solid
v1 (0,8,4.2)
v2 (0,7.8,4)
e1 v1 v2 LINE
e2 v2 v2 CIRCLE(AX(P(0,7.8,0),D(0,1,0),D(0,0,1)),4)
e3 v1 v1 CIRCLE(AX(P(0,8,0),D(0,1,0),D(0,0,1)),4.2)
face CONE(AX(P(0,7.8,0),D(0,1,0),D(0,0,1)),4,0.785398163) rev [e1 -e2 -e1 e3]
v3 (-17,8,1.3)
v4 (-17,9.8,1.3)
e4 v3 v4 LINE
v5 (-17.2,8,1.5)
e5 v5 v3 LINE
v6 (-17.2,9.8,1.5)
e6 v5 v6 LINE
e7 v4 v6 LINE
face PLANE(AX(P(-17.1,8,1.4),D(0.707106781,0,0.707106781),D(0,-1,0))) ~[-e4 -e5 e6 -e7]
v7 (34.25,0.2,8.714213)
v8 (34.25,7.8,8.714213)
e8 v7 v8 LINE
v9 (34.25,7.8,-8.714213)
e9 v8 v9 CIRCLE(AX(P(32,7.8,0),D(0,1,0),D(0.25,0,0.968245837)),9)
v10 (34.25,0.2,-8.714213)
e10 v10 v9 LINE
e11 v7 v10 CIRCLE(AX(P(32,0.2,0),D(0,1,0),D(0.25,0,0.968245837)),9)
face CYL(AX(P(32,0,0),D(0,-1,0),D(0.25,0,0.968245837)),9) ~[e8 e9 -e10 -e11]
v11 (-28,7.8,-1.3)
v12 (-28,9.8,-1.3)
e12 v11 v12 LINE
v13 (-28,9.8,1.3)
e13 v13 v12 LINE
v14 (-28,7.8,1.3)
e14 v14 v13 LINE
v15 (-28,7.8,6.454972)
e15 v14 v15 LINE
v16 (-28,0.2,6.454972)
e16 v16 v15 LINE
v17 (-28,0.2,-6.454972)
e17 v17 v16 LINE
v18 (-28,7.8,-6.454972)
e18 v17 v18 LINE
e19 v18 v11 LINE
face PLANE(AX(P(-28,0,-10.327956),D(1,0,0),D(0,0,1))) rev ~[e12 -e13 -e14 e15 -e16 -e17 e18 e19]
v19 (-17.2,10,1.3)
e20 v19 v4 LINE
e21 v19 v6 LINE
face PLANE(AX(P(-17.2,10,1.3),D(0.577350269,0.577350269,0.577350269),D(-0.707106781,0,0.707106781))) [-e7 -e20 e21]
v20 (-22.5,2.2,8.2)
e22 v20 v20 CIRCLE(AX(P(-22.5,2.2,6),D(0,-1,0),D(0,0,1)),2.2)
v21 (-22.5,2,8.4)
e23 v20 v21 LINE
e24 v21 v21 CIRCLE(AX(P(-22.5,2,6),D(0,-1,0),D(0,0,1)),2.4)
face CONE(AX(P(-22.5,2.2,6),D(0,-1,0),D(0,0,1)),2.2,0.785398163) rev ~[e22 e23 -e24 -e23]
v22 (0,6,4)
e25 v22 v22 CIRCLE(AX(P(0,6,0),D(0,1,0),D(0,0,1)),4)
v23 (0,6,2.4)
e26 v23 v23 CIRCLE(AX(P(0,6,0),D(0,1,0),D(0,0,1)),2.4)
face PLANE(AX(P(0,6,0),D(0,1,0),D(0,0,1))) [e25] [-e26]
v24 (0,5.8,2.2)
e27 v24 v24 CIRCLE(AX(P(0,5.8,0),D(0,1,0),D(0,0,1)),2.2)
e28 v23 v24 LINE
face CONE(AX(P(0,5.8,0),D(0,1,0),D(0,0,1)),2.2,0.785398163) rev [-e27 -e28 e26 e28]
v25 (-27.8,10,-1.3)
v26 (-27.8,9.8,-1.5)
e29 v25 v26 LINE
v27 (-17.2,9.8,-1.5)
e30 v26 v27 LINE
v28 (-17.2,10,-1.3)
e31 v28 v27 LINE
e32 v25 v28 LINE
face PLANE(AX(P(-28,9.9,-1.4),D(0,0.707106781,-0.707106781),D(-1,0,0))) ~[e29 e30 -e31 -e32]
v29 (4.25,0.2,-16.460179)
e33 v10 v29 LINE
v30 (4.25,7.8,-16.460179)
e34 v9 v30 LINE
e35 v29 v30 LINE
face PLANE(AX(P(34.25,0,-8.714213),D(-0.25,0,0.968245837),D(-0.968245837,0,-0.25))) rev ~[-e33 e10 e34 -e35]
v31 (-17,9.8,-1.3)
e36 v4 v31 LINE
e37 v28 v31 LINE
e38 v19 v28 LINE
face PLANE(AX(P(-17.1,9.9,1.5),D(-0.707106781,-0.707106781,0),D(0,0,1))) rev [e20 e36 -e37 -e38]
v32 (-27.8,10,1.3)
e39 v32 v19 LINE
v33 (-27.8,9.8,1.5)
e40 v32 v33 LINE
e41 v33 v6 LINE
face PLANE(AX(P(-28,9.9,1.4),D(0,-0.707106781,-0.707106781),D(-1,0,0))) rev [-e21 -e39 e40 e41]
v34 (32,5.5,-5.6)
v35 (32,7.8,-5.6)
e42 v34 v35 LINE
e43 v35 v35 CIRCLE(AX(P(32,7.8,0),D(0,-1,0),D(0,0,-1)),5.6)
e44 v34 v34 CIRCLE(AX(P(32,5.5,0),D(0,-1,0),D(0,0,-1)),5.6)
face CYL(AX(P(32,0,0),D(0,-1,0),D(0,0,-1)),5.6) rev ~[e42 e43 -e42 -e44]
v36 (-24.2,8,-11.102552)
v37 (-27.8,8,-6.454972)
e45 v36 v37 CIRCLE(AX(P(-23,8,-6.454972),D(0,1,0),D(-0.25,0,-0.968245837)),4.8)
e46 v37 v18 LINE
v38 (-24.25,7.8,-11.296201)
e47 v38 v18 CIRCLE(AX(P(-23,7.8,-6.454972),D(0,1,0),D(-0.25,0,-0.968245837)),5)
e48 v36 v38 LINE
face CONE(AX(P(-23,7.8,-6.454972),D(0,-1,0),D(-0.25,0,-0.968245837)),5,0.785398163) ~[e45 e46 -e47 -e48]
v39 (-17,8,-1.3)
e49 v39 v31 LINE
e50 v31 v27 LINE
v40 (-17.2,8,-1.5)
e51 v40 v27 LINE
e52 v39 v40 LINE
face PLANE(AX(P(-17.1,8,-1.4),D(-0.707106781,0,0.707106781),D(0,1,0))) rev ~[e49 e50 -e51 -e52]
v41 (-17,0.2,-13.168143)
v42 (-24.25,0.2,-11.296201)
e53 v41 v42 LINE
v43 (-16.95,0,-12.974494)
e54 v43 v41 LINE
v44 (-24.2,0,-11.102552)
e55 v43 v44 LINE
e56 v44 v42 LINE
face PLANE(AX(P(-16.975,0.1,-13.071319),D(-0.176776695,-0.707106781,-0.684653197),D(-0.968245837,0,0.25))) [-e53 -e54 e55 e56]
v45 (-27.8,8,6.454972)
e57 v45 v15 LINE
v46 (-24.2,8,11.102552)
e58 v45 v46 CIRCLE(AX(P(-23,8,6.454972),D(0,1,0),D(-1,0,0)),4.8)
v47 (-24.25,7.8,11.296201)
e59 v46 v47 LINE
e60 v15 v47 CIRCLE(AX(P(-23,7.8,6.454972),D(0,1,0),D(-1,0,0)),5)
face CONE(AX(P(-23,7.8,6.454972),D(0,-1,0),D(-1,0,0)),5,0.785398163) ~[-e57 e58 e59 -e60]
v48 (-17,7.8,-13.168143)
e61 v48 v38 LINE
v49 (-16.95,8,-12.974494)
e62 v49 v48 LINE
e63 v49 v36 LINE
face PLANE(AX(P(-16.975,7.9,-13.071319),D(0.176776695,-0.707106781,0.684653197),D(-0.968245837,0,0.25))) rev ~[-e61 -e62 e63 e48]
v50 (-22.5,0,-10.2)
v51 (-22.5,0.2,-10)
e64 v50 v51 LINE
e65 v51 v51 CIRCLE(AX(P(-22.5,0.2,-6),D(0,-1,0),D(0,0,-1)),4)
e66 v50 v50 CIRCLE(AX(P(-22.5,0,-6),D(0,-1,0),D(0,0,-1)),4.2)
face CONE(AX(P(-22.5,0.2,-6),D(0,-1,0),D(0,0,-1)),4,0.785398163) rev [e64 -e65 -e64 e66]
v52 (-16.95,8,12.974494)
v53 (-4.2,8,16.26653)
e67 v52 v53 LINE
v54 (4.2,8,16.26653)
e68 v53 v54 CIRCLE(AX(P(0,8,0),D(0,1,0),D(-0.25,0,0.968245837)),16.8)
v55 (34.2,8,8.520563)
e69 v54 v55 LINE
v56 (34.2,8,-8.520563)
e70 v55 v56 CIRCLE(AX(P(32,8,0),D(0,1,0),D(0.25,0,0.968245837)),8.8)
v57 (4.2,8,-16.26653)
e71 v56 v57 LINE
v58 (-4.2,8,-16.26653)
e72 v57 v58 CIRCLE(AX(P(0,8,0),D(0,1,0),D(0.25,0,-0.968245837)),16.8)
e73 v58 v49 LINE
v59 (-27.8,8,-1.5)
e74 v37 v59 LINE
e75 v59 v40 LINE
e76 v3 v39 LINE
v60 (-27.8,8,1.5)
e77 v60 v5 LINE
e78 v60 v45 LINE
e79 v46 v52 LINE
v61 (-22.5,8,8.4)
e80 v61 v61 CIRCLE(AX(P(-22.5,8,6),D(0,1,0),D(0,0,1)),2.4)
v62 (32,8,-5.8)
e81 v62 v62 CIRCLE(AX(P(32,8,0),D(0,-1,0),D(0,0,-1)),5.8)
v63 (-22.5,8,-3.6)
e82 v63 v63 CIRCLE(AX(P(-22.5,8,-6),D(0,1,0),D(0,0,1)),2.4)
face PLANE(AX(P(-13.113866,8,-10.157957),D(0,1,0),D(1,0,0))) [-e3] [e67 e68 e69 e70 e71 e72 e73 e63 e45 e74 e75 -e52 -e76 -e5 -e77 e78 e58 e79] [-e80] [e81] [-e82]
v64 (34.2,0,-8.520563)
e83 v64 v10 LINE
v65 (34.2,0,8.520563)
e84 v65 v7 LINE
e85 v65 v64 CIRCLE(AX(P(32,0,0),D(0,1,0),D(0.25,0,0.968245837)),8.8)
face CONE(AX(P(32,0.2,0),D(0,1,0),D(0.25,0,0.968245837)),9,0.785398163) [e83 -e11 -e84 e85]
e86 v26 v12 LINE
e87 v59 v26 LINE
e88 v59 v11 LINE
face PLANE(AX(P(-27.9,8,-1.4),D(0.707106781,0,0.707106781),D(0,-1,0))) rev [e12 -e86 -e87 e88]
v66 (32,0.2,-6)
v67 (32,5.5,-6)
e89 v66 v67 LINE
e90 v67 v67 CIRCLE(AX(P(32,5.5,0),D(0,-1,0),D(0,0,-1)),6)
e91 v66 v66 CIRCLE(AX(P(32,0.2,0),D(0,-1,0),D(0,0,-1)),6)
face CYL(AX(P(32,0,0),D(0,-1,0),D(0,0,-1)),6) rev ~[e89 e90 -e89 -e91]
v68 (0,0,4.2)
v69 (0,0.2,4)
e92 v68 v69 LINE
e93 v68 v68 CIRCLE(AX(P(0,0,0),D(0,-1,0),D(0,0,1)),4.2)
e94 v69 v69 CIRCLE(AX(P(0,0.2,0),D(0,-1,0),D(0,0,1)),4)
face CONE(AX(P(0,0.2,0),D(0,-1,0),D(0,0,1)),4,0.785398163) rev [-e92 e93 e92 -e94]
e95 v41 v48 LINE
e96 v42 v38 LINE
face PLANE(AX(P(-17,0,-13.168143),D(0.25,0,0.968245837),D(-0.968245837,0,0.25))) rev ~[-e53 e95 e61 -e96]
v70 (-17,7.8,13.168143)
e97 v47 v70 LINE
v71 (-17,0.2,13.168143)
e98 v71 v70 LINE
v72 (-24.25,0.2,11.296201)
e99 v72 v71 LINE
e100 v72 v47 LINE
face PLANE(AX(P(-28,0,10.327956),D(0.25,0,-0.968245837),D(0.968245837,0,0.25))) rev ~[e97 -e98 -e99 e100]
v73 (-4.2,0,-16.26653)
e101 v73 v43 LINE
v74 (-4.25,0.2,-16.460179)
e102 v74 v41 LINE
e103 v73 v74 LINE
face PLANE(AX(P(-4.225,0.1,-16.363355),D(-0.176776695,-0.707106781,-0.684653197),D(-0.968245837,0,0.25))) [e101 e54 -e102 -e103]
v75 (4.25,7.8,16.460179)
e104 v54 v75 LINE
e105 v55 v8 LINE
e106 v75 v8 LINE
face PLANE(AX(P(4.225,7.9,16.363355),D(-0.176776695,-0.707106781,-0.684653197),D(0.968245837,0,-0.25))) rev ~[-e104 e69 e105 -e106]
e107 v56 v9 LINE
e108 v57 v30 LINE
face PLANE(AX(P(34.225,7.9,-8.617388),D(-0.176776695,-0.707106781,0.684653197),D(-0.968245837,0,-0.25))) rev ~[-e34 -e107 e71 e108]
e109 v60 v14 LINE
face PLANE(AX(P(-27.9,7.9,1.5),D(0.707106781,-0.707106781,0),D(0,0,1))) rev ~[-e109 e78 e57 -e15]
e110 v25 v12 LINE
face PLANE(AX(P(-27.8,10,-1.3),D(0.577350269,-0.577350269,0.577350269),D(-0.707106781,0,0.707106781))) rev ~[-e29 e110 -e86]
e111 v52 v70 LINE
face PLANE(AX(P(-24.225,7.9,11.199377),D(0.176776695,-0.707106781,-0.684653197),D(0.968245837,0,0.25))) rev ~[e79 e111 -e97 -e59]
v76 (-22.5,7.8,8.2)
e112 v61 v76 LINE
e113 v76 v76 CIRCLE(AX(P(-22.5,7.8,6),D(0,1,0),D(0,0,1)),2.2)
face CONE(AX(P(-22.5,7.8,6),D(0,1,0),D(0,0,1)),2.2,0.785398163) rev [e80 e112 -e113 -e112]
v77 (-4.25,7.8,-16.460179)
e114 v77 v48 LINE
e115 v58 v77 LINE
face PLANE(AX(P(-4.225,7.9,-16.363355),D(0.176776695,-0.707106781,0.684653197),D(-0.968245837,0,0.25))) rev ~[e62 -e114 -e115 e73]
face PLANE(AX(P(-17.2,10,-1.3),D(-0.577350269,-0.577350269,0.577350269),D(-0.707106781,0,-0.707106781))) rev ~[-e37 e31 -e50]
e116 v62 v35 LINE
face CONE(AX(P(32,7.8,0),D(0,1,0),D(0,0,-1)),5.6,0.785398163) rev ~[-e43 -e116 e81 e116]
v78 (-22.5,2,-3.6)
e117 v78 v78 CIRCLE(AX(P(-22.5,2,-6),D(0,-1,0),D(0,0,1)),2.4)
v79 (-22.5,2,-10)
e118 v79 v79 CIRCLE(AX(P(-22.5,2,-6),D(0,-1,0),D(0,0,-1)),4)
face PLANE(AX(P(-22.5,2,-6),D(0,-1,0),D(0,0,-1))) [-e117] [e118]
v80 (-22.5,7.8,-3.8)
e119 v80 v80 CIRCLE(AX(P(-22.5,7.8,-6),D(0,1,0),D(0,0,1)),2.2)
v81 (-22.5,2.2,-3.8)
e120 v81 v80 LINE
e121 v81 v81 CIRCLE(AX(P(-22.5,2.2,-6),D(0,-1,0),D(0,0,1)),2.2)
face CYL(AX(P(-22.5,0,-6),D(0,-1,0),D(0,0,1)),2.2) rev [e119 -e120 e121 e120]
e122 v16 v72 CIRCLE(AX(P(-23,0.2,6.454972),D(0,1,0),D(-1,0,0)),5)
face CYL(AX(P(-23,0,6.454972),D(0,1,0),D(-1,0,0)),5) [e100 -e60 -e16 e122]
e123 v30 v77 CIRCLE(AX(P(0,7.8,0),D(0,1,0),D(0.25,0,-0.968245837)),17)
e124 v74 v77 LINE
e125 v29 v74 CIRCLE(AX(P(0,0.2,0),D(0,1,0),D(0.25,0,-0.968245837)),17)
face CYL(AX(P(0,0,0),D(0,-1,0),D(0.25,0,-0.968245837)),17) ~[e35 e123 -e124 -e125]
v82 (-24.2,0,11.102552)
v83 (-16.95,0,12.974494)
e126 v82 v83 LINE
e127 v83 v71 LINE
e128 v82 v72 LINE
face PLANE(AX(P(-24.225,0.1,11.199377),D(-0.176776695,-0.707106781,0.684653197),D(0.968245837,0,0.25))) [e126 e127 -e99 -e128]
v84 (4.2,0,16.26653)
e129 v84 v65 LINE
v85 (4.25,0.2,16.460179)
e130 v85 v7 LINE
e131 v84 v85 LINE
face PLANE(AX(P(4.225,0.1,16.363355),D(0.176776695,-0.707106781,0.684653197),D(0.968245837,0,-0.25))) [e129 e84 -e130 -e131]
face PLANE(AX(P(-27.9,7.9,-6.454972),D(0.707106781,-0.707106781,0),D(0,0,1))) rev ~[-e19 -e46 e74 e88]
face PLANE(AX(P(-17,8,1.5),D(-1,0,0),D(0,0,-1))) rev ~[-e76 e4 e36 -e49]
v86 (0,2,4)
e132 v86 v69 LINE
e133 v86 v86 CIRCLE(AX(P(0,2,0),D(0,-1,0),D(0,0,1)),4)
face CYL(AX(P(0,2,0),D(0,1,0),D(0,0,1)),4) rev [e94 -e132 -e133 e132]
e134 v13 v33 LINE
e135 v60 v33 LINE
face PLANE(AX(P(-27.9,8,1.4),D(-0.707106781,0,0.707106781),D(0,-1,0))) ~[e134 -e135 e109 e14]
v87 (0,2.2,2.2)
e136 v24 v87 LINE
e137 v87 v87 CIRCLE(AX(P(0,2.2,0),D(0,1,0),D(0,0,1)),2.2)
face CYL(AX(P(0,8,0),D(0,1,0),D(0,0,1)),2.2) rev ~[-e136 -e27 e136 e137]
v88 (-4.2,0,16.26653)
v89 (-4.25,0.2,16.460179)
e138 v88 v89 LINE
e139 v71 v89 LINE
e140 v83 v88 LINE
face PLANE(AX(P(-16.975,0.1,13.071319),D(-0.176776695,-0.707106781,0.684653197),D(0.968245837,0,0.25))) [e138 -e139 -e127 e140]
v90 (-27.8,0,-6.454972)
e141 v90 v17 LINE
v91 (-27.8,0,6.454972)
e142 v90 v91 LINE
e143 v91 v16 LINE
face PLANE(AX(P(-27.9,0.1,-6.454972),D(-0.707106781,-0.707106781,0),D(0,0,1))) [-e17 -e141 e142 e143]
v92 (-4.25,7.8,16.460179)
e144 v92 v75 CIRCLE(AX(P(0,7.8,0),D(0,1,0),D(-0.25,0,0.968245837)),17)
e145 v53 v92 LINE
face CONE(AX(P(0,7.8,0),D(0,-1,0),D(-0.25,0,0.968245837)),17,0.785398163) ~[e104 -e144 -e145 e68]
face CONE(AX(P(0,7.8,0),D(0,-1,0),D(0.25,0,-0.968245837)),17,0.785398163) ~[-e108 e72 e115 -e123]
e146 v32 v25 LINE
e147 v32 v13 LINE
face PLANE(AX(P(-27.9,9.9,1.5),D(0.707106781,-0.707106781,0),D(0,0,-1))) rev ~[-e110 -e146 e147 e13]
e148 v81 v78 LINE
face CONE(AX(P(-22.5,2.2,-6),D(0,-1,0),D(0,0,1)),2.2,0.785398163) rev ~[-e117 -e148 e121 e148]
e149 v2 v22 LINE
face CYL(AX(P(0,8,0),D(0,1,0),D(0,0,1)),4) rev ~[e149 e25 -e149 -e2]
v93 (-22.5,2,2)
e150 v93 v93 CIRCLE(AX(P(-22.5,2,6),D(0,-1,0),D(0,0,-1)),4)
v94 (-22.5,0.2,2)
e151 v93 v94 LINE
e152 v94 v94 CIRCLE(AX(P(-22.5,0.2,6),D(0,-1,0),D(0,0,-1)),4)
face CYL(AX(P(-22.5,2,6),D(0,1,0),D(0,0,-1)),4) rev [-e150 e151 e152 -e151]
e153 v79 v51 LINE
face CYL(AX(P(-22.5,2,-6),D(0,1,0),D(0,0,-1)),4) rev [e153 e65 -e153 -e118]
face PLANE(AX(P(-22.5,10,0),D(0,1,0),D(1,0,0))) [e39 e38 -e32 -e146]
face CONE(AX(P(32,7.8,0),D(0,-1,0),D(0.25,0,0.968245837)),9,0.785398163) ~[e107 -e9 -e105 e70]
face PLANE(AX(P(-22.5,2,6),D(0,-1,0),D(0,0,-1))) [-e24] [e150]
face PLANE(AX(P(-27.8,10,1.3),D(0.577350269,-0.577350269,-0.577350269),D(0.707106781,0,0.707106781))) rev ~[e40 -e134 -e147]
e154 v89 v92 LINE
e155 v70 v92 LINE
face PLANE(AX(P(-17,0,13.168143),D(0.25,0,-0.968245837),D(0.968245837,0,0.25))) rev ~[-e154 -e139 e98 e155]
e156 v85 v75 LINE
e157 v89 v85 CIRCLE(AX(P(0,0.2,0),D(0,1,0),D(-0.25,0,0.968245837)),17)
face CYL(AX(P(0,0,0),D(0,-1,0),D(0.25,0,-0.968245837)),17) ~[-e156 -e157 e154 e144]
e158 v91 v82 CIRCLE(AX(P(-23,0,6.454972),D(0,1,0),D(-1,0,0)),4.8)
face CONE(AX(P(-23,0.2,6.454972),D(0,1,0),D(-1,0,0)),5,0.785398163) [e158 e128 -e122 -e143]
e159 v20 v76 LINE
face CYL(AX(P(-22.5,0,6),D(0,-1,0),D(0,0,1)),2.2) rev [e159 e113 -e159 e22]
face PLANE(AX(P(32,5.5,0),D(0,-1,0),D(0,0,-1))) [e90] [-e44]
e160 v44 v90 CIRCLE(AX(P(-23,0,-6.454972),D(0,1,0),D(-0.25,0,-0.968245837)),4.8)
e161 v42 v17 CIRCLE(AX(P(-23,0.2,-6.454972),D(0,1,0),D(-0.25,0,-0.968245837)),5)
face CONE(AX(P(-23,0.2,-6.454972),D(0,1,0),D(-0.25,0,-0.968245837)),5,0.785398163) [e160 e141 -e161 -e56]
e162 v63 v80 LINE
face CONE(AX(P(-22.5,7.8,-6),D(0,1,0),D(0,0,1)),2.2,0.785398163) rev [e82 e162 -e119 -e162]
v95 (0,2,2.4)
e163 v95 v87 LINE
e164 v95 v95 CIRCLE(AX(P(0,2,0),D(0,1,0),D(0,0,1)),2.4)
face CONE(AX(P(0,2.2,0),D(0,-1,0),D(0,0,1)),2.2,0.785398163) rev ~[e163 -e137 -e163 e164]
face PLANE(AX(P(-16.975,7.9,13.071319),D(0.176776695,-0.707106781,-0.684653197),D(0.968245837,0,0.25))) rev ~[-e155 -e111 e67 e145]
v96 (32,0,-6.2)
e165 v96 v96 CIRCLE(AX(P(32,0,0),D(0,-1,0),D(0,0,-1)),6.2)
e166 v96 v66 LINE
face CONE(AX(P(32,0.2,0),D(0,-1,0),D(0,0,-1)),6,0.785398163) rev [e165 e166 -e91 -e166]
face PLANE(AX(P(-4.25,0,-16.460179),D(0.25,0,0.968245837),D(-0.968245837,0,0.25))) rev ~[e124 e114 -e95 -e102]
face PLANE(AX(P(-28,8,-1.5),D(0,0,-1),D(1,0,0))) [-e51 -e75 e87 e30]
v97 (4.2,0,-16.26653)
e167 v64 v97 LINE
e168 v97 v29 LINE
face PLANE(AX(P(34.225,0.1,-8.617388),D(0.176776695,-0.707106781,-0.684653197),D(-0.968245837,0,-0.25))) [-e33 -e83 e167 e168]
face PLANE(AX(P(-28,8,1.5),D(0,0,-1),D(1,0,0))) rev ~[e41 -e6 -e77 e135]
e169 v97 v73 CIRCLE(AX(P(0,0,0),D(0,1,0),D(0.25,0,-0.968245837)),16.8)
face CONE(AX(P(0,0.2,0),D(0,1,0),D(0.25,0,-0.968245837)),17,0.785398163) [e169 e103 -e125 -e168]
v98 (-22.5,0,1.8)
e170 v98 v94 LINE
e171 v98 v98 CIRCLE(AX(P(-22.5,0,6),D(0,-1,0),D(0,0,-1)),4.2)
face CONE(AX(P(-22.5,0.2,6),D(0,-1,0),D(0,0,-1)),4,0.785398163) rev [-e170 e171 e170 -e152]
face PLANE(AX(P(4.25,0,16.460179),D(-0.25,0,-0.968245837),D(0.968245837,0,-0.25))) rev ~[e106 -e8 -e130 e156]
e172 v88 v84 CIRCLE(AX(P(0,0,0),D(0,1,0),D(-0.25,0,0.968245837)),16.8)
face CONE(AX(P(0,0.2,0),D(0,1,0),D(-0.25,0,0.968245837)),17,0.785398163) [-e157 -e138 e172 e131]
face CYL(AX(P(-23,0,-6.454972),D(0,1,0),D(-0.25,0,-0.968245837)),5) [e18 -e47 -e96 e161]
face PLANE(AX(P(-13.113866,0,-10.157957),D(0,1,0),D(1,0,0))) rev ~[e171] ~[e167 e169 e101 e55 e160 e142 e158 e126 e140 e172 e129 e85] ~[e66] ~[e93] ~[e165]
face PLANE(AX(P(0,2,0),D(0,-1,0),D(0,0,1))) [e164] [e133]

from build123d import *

# Parameters (mm, degrees)
SKETCH_1_R           = 2.1
EXTRUDE_2_DEPTH      = 8
SKETCH_2_R           = 2.2
CUT_EXTRUDE_1_DEPTH  = 20
SKETCH_2_3_R         = 4
SKETCH_2_3_R_2       = 2.2
CUT_EXTRUDE_2_DEPTH  = 2
CUT_EXTRUDE_START    = -8
SKETCH_9_R           = 3
SKETCH_9_R_2         = 2.1
CUT_EXTRUDE_11_DEPTH = 8
SKETCH_10_R          = 5.6
SKETCH_10_R_2        = 3
CUT_EXTRUDE_12_DEPTH = 5.5
SKETCH_10_3_R        = 6
SKETCH_10_3_R_2      = 5.6
CUT_EXTRUDE_13_DEPTH = 5.5
SKETCH_10_4_R        = 5.6
SKETCH_10_4_R_2      = 3
CUT_EXTRUDE_14_DEPTH = 20
CHAMFER_1_SIZE       = 0.2
SKETCH_11_R          = 2.2
EXTRUDE_3_DEPTH      = 8
FILLET_1_R           = 5
SKETCH_12_W          = 11
SKETCH_12_H          = 3
EXTRUDE_5_DEPTH      = 2
CUT_EXTRUDE_START_2  = -2
SKETCH_13_R          = 4
CUT_EXTRUDE_16_DEPTH = 2
CHAMFER_2_SIZE       = 0.2


with BuildPart() as part:
    # 스케치1 → 보스-돌출2 (new body)
    with BuildSketch(Plane(origin=(0, 0, 0), x_dir=(1, 0, 0), z_dir=(0, 1, 0))):
        with BuildLine():
            Line((34.25, 8.714212529), (4.25, 16.460179221))
            ThreePointArc((4.25, 16.460179221), (-17, 0), (4.25, -16.460179221))
            Line((4.25, -16.460179221), (34.25, -8.714212529))
            ThreePointArc((34.25, -8.714212529), (41, 0), (34.25, 8.714212529))
        make_face()
        with Locations(Location((32, 0, 0), (0, 0, 270))):
            Circle(SKETCH_1_R, mode=Mode.SUBTRACT)
    extrude(amount=EXTRUDE_2_DEPTH)

    # 스케치2 → 컷-돌출1 (cut)
    with BuildSketch(Plane(origin=(0, 8, 0), x_dir=(1, 0, 0), z_dir=(0, 1, 0))):
        with Locations(Location((0, 0, 0), (0, 0, 270))):
            Circle(SKETCH_2_R)
    extrude(amount=-CUT_EXTRUDE_1_DEPTH, mode=Mode.SUBTRACT)

    # 스케치2<3> → 컷-돌출2 (cut)
    with BuildSketch(Plane(origin=(0, 8, 0), x_dir=(1, 0, 0), z_dir=(0, 1, 0))):
        with Locations(Location((0, 0, 0), (0, 0, 270))):
            Circle(SKETCH_2_3_R)
        with Locations(Location((0, 0, 0), (0, 0, 270))):
            Circle(SKETCH_2_3_R_2, mode=Mode.SUBTRACT)
    extrude(amount=-CUT_EXTRUDE_2_DEPTH, mode=Mode.SUBTRACT)

    # 스케치9 → 컷-돌출11 (cut)
    with BuildSketch(Plane(origin=(0, 8, 0), x_dir=(1, 0, 0), z_dir=(0, 1, 0)).offset(CUT_EXTRUDE_START)):
        with Locations(Location((32, 0, 0), (0, 0, 270))):
            Circle(SKETCH_9_R)
        with Locations((32, 0)):
            Circle(SKETCH_9_R_2, mode=Mode.SUBTRACT)
    extrude(amount=CUT_EXTRUDE_11_DEPTH, mode=Mode.SUBTRACT)

    # 스케치10 → 컷-돌출12 (cut)
    with BuildSketch(Plane.XZ):
        with Locations(Location((32, 0, 0), (0, 0, 270))):
            Circle(SKETCH_10_R)
        with Locations(Location((32, 0, 0), (0, 0, 90))):
            Circle(SKETCH_10_R_2, mode=Mode.SUBTRACT)
    extrude(amount=-CUT_EXTRUDE_12_DEPTH, mode=Mode.SUBTRACT)

    # 스케치10<3> → 컷-돌출13 (cut)
    with BuildSketch(Plane.XZ):
        with Locations(Location((32, 0, 0), (0, 0, 270))):
            Circle(SKETCH_10_3_R)
        with Locations((32, 0)):
            Circle(SKETCH_10_3_R_2, mode=Mode.SUBTRACT)
    extrude(amount=-CUT_EXTRUDE_13_DEPTH, mode=Mode.SUBTRACT)

    # 스케치10<4> → 컷-돌출14 (cut)
    with BuildSketch(Plane.XZ):
        with Locations(Location((32, 0, 0), (0, 0, 270))):
            Circle(SKETCH_10_4_R)
        with Locations((32, 0)):
            Circle(SKETCH_10_4_R_2, mode=Mode.SUBTRACT)
    extrude(amount=-CUT_EXTRUDE_14_DEPTH, mode=Mode.SUBTRACT)

    # 모따기1
    chamfer_1_edges = [part.edges().sort_by_distance(p)[0] for p in [
        (32, 0, 6),
        (32, 8, 5.6),
    ]]
    chamfer(chamfer_1_edges, length=CHAMFER_1_SIZE)

    # 스케치11 → 보스-돌출3 (add)
    # profile 1 of 3: a face of its own
    with BuildSketch(Plane(origin=(0, 0, 0), x_dir=(1, 0, 0), z_dir=(0, 1, 0))):
        with BuildLine():
            ThreePointArc((-17, 1.7e-08), (-13.43968005, 10.410331414), (-4.25, 16.460179221))
            Line((-4.25, 16.460179221), (-17, 13.168143377))
            Line((-17, 13.168143377), (-17, 1.7e-08))
        make_face()
    # profile 2 of 3: a face of its own
    with BuildSketch(Plane(origin=(0, 0, 0), x_dir=(1, 0, 0), z_dir=(0, 1, 0))):
        with BuildLine():
            ThreePointArc((-4.25, -16.460179221), (-13.439680061, -10.4103314), (-17, 1.7e-08))
            Line((-17, 1.7e-08), (-17, -13.168143377))
            Line((-17, -13.168143377), (-4.25, -16.460179221))
        make_face()
    # profile 3 of 3: a face of its own
    with BuildSketch(Plane(origin=(0, 0, 0), x_dir=(1, 0, 0), z_dir=(0, 1, 0))):
        Polygon((-17, 1.7e-08), (-17, 13.168143377), (-28, 10.32795559), (-28, -10.32795559), (-17, -13.168143377), align=None)
        with Locations(Location((-22.5, -6, 0), (0, 0, 270))):
            Circle(SKETCH_11_R, mode=Mode.SUBTRACT)
        with Locations(Location((-22.5, 6, 0), (0, 0, 270))):
            Circle(SKETCH_11_R, mode=Mode.SUBTRACT)
    extrude(amount=EXTRUDE_3_DEPTH)

    # 필렛1
    fillet_1_edges = [part.edges().sort_by_distance(p)[0] for p in [
        (-28, 4, 10.32795559),
        (-28, 4, -10.32795559),
    ]]
    fillet(fillet_1_edges, radius=FILLET_1_R)

    # 스케치12 → 보스-돌출5 (add)
    with BuildSketch(Plane(origin=(0, 8, 0), x_dir=(1, 0, 0), z_dir=(0, 1, 0))):
        with Locations((-22.5, 0)):
            Rectangle(SKETCH_12_W, SKETCH_12_H)
    extrude(amount=EXTRUDE_5_DEPTH)

    # 스케치13 → 컷-돌출16 (cut)
    with BuildSketch(Plane.XZ.offset(CUT_EXTRUDE_START_2)):
        with Locations(Location((-22.5, 6, 0), (0, 0, 270))):
            Circle(SKETCH_13_R)
        with Locations(Location((-22.5, -6, 0), (0, 0, 270))):
            Circle(SKETCH_13_R)
        with Locations(Location((0, 0, 0), (0, 0, 90))):
            Circle(SKETCH_13_R)
    extrude(amount=CUT_EXTRUDE_16_DEPTH, mode=Mode.SUBTRACT)

    # 모따기2
    chamfer_2_edges = [part.edges().sort_by_distance(p)[0] for p in [
        (-28, 8, -3.977486122),
        (-26.952847075, 8, -9.516834422),
        (-26.952847075, 8, 9.516834422),
        (19.25, 8, -12.587195875),
        (-28, 8, 3.977486122),
        (-17, 9, 1.5),
        (-17, 9, -1.5),
        (-28, 9, -1.5),
        (-28, 9, 1.5),
        (-17, 10, 0),
        (-22.5, 10, -1.5),
        (-28, 10, 0),
        (-22.5, 10, 1.5),
        (0, 0, -4),
        (0, 2, -2.2),
        (-22.5, 2, -8.2),
        (-22.5, 0, -2),
        (-22.5, 2, 3.8),
        (-22.5, 0, 10),
        (0, 8, -17),
        (19.25, 8, 12.587195875),
        (0, 6, -2.2),
        (0, 8, -4),
        (41, 8, 0),
        (19.25, 0, 12.587195875),
        (0, 0, -17),
        (0, 0, 17),
        (0, 8, 17),
        (-22.5, 8, 3.8),
        (-14.25, 0, -13.878190324),
        (19.25, 0, -12.587195875),
        (-22.5, 8, -8.2),
        (-14.25, 8, -13.878190324),
        (41, 0, 0),
        (-14.25, 8, 13.878190324),
        (-14.25, 0, 13.878190324),
        (-28, 0, 0),
        (-26.952847075, 0, -9.516834422),
        (-26.952847075, 0, 9.516834422),
    ]]
    chamfer(chamfer_2_edges, length=CHAMFER_2_SIZE)


solid = part.part
